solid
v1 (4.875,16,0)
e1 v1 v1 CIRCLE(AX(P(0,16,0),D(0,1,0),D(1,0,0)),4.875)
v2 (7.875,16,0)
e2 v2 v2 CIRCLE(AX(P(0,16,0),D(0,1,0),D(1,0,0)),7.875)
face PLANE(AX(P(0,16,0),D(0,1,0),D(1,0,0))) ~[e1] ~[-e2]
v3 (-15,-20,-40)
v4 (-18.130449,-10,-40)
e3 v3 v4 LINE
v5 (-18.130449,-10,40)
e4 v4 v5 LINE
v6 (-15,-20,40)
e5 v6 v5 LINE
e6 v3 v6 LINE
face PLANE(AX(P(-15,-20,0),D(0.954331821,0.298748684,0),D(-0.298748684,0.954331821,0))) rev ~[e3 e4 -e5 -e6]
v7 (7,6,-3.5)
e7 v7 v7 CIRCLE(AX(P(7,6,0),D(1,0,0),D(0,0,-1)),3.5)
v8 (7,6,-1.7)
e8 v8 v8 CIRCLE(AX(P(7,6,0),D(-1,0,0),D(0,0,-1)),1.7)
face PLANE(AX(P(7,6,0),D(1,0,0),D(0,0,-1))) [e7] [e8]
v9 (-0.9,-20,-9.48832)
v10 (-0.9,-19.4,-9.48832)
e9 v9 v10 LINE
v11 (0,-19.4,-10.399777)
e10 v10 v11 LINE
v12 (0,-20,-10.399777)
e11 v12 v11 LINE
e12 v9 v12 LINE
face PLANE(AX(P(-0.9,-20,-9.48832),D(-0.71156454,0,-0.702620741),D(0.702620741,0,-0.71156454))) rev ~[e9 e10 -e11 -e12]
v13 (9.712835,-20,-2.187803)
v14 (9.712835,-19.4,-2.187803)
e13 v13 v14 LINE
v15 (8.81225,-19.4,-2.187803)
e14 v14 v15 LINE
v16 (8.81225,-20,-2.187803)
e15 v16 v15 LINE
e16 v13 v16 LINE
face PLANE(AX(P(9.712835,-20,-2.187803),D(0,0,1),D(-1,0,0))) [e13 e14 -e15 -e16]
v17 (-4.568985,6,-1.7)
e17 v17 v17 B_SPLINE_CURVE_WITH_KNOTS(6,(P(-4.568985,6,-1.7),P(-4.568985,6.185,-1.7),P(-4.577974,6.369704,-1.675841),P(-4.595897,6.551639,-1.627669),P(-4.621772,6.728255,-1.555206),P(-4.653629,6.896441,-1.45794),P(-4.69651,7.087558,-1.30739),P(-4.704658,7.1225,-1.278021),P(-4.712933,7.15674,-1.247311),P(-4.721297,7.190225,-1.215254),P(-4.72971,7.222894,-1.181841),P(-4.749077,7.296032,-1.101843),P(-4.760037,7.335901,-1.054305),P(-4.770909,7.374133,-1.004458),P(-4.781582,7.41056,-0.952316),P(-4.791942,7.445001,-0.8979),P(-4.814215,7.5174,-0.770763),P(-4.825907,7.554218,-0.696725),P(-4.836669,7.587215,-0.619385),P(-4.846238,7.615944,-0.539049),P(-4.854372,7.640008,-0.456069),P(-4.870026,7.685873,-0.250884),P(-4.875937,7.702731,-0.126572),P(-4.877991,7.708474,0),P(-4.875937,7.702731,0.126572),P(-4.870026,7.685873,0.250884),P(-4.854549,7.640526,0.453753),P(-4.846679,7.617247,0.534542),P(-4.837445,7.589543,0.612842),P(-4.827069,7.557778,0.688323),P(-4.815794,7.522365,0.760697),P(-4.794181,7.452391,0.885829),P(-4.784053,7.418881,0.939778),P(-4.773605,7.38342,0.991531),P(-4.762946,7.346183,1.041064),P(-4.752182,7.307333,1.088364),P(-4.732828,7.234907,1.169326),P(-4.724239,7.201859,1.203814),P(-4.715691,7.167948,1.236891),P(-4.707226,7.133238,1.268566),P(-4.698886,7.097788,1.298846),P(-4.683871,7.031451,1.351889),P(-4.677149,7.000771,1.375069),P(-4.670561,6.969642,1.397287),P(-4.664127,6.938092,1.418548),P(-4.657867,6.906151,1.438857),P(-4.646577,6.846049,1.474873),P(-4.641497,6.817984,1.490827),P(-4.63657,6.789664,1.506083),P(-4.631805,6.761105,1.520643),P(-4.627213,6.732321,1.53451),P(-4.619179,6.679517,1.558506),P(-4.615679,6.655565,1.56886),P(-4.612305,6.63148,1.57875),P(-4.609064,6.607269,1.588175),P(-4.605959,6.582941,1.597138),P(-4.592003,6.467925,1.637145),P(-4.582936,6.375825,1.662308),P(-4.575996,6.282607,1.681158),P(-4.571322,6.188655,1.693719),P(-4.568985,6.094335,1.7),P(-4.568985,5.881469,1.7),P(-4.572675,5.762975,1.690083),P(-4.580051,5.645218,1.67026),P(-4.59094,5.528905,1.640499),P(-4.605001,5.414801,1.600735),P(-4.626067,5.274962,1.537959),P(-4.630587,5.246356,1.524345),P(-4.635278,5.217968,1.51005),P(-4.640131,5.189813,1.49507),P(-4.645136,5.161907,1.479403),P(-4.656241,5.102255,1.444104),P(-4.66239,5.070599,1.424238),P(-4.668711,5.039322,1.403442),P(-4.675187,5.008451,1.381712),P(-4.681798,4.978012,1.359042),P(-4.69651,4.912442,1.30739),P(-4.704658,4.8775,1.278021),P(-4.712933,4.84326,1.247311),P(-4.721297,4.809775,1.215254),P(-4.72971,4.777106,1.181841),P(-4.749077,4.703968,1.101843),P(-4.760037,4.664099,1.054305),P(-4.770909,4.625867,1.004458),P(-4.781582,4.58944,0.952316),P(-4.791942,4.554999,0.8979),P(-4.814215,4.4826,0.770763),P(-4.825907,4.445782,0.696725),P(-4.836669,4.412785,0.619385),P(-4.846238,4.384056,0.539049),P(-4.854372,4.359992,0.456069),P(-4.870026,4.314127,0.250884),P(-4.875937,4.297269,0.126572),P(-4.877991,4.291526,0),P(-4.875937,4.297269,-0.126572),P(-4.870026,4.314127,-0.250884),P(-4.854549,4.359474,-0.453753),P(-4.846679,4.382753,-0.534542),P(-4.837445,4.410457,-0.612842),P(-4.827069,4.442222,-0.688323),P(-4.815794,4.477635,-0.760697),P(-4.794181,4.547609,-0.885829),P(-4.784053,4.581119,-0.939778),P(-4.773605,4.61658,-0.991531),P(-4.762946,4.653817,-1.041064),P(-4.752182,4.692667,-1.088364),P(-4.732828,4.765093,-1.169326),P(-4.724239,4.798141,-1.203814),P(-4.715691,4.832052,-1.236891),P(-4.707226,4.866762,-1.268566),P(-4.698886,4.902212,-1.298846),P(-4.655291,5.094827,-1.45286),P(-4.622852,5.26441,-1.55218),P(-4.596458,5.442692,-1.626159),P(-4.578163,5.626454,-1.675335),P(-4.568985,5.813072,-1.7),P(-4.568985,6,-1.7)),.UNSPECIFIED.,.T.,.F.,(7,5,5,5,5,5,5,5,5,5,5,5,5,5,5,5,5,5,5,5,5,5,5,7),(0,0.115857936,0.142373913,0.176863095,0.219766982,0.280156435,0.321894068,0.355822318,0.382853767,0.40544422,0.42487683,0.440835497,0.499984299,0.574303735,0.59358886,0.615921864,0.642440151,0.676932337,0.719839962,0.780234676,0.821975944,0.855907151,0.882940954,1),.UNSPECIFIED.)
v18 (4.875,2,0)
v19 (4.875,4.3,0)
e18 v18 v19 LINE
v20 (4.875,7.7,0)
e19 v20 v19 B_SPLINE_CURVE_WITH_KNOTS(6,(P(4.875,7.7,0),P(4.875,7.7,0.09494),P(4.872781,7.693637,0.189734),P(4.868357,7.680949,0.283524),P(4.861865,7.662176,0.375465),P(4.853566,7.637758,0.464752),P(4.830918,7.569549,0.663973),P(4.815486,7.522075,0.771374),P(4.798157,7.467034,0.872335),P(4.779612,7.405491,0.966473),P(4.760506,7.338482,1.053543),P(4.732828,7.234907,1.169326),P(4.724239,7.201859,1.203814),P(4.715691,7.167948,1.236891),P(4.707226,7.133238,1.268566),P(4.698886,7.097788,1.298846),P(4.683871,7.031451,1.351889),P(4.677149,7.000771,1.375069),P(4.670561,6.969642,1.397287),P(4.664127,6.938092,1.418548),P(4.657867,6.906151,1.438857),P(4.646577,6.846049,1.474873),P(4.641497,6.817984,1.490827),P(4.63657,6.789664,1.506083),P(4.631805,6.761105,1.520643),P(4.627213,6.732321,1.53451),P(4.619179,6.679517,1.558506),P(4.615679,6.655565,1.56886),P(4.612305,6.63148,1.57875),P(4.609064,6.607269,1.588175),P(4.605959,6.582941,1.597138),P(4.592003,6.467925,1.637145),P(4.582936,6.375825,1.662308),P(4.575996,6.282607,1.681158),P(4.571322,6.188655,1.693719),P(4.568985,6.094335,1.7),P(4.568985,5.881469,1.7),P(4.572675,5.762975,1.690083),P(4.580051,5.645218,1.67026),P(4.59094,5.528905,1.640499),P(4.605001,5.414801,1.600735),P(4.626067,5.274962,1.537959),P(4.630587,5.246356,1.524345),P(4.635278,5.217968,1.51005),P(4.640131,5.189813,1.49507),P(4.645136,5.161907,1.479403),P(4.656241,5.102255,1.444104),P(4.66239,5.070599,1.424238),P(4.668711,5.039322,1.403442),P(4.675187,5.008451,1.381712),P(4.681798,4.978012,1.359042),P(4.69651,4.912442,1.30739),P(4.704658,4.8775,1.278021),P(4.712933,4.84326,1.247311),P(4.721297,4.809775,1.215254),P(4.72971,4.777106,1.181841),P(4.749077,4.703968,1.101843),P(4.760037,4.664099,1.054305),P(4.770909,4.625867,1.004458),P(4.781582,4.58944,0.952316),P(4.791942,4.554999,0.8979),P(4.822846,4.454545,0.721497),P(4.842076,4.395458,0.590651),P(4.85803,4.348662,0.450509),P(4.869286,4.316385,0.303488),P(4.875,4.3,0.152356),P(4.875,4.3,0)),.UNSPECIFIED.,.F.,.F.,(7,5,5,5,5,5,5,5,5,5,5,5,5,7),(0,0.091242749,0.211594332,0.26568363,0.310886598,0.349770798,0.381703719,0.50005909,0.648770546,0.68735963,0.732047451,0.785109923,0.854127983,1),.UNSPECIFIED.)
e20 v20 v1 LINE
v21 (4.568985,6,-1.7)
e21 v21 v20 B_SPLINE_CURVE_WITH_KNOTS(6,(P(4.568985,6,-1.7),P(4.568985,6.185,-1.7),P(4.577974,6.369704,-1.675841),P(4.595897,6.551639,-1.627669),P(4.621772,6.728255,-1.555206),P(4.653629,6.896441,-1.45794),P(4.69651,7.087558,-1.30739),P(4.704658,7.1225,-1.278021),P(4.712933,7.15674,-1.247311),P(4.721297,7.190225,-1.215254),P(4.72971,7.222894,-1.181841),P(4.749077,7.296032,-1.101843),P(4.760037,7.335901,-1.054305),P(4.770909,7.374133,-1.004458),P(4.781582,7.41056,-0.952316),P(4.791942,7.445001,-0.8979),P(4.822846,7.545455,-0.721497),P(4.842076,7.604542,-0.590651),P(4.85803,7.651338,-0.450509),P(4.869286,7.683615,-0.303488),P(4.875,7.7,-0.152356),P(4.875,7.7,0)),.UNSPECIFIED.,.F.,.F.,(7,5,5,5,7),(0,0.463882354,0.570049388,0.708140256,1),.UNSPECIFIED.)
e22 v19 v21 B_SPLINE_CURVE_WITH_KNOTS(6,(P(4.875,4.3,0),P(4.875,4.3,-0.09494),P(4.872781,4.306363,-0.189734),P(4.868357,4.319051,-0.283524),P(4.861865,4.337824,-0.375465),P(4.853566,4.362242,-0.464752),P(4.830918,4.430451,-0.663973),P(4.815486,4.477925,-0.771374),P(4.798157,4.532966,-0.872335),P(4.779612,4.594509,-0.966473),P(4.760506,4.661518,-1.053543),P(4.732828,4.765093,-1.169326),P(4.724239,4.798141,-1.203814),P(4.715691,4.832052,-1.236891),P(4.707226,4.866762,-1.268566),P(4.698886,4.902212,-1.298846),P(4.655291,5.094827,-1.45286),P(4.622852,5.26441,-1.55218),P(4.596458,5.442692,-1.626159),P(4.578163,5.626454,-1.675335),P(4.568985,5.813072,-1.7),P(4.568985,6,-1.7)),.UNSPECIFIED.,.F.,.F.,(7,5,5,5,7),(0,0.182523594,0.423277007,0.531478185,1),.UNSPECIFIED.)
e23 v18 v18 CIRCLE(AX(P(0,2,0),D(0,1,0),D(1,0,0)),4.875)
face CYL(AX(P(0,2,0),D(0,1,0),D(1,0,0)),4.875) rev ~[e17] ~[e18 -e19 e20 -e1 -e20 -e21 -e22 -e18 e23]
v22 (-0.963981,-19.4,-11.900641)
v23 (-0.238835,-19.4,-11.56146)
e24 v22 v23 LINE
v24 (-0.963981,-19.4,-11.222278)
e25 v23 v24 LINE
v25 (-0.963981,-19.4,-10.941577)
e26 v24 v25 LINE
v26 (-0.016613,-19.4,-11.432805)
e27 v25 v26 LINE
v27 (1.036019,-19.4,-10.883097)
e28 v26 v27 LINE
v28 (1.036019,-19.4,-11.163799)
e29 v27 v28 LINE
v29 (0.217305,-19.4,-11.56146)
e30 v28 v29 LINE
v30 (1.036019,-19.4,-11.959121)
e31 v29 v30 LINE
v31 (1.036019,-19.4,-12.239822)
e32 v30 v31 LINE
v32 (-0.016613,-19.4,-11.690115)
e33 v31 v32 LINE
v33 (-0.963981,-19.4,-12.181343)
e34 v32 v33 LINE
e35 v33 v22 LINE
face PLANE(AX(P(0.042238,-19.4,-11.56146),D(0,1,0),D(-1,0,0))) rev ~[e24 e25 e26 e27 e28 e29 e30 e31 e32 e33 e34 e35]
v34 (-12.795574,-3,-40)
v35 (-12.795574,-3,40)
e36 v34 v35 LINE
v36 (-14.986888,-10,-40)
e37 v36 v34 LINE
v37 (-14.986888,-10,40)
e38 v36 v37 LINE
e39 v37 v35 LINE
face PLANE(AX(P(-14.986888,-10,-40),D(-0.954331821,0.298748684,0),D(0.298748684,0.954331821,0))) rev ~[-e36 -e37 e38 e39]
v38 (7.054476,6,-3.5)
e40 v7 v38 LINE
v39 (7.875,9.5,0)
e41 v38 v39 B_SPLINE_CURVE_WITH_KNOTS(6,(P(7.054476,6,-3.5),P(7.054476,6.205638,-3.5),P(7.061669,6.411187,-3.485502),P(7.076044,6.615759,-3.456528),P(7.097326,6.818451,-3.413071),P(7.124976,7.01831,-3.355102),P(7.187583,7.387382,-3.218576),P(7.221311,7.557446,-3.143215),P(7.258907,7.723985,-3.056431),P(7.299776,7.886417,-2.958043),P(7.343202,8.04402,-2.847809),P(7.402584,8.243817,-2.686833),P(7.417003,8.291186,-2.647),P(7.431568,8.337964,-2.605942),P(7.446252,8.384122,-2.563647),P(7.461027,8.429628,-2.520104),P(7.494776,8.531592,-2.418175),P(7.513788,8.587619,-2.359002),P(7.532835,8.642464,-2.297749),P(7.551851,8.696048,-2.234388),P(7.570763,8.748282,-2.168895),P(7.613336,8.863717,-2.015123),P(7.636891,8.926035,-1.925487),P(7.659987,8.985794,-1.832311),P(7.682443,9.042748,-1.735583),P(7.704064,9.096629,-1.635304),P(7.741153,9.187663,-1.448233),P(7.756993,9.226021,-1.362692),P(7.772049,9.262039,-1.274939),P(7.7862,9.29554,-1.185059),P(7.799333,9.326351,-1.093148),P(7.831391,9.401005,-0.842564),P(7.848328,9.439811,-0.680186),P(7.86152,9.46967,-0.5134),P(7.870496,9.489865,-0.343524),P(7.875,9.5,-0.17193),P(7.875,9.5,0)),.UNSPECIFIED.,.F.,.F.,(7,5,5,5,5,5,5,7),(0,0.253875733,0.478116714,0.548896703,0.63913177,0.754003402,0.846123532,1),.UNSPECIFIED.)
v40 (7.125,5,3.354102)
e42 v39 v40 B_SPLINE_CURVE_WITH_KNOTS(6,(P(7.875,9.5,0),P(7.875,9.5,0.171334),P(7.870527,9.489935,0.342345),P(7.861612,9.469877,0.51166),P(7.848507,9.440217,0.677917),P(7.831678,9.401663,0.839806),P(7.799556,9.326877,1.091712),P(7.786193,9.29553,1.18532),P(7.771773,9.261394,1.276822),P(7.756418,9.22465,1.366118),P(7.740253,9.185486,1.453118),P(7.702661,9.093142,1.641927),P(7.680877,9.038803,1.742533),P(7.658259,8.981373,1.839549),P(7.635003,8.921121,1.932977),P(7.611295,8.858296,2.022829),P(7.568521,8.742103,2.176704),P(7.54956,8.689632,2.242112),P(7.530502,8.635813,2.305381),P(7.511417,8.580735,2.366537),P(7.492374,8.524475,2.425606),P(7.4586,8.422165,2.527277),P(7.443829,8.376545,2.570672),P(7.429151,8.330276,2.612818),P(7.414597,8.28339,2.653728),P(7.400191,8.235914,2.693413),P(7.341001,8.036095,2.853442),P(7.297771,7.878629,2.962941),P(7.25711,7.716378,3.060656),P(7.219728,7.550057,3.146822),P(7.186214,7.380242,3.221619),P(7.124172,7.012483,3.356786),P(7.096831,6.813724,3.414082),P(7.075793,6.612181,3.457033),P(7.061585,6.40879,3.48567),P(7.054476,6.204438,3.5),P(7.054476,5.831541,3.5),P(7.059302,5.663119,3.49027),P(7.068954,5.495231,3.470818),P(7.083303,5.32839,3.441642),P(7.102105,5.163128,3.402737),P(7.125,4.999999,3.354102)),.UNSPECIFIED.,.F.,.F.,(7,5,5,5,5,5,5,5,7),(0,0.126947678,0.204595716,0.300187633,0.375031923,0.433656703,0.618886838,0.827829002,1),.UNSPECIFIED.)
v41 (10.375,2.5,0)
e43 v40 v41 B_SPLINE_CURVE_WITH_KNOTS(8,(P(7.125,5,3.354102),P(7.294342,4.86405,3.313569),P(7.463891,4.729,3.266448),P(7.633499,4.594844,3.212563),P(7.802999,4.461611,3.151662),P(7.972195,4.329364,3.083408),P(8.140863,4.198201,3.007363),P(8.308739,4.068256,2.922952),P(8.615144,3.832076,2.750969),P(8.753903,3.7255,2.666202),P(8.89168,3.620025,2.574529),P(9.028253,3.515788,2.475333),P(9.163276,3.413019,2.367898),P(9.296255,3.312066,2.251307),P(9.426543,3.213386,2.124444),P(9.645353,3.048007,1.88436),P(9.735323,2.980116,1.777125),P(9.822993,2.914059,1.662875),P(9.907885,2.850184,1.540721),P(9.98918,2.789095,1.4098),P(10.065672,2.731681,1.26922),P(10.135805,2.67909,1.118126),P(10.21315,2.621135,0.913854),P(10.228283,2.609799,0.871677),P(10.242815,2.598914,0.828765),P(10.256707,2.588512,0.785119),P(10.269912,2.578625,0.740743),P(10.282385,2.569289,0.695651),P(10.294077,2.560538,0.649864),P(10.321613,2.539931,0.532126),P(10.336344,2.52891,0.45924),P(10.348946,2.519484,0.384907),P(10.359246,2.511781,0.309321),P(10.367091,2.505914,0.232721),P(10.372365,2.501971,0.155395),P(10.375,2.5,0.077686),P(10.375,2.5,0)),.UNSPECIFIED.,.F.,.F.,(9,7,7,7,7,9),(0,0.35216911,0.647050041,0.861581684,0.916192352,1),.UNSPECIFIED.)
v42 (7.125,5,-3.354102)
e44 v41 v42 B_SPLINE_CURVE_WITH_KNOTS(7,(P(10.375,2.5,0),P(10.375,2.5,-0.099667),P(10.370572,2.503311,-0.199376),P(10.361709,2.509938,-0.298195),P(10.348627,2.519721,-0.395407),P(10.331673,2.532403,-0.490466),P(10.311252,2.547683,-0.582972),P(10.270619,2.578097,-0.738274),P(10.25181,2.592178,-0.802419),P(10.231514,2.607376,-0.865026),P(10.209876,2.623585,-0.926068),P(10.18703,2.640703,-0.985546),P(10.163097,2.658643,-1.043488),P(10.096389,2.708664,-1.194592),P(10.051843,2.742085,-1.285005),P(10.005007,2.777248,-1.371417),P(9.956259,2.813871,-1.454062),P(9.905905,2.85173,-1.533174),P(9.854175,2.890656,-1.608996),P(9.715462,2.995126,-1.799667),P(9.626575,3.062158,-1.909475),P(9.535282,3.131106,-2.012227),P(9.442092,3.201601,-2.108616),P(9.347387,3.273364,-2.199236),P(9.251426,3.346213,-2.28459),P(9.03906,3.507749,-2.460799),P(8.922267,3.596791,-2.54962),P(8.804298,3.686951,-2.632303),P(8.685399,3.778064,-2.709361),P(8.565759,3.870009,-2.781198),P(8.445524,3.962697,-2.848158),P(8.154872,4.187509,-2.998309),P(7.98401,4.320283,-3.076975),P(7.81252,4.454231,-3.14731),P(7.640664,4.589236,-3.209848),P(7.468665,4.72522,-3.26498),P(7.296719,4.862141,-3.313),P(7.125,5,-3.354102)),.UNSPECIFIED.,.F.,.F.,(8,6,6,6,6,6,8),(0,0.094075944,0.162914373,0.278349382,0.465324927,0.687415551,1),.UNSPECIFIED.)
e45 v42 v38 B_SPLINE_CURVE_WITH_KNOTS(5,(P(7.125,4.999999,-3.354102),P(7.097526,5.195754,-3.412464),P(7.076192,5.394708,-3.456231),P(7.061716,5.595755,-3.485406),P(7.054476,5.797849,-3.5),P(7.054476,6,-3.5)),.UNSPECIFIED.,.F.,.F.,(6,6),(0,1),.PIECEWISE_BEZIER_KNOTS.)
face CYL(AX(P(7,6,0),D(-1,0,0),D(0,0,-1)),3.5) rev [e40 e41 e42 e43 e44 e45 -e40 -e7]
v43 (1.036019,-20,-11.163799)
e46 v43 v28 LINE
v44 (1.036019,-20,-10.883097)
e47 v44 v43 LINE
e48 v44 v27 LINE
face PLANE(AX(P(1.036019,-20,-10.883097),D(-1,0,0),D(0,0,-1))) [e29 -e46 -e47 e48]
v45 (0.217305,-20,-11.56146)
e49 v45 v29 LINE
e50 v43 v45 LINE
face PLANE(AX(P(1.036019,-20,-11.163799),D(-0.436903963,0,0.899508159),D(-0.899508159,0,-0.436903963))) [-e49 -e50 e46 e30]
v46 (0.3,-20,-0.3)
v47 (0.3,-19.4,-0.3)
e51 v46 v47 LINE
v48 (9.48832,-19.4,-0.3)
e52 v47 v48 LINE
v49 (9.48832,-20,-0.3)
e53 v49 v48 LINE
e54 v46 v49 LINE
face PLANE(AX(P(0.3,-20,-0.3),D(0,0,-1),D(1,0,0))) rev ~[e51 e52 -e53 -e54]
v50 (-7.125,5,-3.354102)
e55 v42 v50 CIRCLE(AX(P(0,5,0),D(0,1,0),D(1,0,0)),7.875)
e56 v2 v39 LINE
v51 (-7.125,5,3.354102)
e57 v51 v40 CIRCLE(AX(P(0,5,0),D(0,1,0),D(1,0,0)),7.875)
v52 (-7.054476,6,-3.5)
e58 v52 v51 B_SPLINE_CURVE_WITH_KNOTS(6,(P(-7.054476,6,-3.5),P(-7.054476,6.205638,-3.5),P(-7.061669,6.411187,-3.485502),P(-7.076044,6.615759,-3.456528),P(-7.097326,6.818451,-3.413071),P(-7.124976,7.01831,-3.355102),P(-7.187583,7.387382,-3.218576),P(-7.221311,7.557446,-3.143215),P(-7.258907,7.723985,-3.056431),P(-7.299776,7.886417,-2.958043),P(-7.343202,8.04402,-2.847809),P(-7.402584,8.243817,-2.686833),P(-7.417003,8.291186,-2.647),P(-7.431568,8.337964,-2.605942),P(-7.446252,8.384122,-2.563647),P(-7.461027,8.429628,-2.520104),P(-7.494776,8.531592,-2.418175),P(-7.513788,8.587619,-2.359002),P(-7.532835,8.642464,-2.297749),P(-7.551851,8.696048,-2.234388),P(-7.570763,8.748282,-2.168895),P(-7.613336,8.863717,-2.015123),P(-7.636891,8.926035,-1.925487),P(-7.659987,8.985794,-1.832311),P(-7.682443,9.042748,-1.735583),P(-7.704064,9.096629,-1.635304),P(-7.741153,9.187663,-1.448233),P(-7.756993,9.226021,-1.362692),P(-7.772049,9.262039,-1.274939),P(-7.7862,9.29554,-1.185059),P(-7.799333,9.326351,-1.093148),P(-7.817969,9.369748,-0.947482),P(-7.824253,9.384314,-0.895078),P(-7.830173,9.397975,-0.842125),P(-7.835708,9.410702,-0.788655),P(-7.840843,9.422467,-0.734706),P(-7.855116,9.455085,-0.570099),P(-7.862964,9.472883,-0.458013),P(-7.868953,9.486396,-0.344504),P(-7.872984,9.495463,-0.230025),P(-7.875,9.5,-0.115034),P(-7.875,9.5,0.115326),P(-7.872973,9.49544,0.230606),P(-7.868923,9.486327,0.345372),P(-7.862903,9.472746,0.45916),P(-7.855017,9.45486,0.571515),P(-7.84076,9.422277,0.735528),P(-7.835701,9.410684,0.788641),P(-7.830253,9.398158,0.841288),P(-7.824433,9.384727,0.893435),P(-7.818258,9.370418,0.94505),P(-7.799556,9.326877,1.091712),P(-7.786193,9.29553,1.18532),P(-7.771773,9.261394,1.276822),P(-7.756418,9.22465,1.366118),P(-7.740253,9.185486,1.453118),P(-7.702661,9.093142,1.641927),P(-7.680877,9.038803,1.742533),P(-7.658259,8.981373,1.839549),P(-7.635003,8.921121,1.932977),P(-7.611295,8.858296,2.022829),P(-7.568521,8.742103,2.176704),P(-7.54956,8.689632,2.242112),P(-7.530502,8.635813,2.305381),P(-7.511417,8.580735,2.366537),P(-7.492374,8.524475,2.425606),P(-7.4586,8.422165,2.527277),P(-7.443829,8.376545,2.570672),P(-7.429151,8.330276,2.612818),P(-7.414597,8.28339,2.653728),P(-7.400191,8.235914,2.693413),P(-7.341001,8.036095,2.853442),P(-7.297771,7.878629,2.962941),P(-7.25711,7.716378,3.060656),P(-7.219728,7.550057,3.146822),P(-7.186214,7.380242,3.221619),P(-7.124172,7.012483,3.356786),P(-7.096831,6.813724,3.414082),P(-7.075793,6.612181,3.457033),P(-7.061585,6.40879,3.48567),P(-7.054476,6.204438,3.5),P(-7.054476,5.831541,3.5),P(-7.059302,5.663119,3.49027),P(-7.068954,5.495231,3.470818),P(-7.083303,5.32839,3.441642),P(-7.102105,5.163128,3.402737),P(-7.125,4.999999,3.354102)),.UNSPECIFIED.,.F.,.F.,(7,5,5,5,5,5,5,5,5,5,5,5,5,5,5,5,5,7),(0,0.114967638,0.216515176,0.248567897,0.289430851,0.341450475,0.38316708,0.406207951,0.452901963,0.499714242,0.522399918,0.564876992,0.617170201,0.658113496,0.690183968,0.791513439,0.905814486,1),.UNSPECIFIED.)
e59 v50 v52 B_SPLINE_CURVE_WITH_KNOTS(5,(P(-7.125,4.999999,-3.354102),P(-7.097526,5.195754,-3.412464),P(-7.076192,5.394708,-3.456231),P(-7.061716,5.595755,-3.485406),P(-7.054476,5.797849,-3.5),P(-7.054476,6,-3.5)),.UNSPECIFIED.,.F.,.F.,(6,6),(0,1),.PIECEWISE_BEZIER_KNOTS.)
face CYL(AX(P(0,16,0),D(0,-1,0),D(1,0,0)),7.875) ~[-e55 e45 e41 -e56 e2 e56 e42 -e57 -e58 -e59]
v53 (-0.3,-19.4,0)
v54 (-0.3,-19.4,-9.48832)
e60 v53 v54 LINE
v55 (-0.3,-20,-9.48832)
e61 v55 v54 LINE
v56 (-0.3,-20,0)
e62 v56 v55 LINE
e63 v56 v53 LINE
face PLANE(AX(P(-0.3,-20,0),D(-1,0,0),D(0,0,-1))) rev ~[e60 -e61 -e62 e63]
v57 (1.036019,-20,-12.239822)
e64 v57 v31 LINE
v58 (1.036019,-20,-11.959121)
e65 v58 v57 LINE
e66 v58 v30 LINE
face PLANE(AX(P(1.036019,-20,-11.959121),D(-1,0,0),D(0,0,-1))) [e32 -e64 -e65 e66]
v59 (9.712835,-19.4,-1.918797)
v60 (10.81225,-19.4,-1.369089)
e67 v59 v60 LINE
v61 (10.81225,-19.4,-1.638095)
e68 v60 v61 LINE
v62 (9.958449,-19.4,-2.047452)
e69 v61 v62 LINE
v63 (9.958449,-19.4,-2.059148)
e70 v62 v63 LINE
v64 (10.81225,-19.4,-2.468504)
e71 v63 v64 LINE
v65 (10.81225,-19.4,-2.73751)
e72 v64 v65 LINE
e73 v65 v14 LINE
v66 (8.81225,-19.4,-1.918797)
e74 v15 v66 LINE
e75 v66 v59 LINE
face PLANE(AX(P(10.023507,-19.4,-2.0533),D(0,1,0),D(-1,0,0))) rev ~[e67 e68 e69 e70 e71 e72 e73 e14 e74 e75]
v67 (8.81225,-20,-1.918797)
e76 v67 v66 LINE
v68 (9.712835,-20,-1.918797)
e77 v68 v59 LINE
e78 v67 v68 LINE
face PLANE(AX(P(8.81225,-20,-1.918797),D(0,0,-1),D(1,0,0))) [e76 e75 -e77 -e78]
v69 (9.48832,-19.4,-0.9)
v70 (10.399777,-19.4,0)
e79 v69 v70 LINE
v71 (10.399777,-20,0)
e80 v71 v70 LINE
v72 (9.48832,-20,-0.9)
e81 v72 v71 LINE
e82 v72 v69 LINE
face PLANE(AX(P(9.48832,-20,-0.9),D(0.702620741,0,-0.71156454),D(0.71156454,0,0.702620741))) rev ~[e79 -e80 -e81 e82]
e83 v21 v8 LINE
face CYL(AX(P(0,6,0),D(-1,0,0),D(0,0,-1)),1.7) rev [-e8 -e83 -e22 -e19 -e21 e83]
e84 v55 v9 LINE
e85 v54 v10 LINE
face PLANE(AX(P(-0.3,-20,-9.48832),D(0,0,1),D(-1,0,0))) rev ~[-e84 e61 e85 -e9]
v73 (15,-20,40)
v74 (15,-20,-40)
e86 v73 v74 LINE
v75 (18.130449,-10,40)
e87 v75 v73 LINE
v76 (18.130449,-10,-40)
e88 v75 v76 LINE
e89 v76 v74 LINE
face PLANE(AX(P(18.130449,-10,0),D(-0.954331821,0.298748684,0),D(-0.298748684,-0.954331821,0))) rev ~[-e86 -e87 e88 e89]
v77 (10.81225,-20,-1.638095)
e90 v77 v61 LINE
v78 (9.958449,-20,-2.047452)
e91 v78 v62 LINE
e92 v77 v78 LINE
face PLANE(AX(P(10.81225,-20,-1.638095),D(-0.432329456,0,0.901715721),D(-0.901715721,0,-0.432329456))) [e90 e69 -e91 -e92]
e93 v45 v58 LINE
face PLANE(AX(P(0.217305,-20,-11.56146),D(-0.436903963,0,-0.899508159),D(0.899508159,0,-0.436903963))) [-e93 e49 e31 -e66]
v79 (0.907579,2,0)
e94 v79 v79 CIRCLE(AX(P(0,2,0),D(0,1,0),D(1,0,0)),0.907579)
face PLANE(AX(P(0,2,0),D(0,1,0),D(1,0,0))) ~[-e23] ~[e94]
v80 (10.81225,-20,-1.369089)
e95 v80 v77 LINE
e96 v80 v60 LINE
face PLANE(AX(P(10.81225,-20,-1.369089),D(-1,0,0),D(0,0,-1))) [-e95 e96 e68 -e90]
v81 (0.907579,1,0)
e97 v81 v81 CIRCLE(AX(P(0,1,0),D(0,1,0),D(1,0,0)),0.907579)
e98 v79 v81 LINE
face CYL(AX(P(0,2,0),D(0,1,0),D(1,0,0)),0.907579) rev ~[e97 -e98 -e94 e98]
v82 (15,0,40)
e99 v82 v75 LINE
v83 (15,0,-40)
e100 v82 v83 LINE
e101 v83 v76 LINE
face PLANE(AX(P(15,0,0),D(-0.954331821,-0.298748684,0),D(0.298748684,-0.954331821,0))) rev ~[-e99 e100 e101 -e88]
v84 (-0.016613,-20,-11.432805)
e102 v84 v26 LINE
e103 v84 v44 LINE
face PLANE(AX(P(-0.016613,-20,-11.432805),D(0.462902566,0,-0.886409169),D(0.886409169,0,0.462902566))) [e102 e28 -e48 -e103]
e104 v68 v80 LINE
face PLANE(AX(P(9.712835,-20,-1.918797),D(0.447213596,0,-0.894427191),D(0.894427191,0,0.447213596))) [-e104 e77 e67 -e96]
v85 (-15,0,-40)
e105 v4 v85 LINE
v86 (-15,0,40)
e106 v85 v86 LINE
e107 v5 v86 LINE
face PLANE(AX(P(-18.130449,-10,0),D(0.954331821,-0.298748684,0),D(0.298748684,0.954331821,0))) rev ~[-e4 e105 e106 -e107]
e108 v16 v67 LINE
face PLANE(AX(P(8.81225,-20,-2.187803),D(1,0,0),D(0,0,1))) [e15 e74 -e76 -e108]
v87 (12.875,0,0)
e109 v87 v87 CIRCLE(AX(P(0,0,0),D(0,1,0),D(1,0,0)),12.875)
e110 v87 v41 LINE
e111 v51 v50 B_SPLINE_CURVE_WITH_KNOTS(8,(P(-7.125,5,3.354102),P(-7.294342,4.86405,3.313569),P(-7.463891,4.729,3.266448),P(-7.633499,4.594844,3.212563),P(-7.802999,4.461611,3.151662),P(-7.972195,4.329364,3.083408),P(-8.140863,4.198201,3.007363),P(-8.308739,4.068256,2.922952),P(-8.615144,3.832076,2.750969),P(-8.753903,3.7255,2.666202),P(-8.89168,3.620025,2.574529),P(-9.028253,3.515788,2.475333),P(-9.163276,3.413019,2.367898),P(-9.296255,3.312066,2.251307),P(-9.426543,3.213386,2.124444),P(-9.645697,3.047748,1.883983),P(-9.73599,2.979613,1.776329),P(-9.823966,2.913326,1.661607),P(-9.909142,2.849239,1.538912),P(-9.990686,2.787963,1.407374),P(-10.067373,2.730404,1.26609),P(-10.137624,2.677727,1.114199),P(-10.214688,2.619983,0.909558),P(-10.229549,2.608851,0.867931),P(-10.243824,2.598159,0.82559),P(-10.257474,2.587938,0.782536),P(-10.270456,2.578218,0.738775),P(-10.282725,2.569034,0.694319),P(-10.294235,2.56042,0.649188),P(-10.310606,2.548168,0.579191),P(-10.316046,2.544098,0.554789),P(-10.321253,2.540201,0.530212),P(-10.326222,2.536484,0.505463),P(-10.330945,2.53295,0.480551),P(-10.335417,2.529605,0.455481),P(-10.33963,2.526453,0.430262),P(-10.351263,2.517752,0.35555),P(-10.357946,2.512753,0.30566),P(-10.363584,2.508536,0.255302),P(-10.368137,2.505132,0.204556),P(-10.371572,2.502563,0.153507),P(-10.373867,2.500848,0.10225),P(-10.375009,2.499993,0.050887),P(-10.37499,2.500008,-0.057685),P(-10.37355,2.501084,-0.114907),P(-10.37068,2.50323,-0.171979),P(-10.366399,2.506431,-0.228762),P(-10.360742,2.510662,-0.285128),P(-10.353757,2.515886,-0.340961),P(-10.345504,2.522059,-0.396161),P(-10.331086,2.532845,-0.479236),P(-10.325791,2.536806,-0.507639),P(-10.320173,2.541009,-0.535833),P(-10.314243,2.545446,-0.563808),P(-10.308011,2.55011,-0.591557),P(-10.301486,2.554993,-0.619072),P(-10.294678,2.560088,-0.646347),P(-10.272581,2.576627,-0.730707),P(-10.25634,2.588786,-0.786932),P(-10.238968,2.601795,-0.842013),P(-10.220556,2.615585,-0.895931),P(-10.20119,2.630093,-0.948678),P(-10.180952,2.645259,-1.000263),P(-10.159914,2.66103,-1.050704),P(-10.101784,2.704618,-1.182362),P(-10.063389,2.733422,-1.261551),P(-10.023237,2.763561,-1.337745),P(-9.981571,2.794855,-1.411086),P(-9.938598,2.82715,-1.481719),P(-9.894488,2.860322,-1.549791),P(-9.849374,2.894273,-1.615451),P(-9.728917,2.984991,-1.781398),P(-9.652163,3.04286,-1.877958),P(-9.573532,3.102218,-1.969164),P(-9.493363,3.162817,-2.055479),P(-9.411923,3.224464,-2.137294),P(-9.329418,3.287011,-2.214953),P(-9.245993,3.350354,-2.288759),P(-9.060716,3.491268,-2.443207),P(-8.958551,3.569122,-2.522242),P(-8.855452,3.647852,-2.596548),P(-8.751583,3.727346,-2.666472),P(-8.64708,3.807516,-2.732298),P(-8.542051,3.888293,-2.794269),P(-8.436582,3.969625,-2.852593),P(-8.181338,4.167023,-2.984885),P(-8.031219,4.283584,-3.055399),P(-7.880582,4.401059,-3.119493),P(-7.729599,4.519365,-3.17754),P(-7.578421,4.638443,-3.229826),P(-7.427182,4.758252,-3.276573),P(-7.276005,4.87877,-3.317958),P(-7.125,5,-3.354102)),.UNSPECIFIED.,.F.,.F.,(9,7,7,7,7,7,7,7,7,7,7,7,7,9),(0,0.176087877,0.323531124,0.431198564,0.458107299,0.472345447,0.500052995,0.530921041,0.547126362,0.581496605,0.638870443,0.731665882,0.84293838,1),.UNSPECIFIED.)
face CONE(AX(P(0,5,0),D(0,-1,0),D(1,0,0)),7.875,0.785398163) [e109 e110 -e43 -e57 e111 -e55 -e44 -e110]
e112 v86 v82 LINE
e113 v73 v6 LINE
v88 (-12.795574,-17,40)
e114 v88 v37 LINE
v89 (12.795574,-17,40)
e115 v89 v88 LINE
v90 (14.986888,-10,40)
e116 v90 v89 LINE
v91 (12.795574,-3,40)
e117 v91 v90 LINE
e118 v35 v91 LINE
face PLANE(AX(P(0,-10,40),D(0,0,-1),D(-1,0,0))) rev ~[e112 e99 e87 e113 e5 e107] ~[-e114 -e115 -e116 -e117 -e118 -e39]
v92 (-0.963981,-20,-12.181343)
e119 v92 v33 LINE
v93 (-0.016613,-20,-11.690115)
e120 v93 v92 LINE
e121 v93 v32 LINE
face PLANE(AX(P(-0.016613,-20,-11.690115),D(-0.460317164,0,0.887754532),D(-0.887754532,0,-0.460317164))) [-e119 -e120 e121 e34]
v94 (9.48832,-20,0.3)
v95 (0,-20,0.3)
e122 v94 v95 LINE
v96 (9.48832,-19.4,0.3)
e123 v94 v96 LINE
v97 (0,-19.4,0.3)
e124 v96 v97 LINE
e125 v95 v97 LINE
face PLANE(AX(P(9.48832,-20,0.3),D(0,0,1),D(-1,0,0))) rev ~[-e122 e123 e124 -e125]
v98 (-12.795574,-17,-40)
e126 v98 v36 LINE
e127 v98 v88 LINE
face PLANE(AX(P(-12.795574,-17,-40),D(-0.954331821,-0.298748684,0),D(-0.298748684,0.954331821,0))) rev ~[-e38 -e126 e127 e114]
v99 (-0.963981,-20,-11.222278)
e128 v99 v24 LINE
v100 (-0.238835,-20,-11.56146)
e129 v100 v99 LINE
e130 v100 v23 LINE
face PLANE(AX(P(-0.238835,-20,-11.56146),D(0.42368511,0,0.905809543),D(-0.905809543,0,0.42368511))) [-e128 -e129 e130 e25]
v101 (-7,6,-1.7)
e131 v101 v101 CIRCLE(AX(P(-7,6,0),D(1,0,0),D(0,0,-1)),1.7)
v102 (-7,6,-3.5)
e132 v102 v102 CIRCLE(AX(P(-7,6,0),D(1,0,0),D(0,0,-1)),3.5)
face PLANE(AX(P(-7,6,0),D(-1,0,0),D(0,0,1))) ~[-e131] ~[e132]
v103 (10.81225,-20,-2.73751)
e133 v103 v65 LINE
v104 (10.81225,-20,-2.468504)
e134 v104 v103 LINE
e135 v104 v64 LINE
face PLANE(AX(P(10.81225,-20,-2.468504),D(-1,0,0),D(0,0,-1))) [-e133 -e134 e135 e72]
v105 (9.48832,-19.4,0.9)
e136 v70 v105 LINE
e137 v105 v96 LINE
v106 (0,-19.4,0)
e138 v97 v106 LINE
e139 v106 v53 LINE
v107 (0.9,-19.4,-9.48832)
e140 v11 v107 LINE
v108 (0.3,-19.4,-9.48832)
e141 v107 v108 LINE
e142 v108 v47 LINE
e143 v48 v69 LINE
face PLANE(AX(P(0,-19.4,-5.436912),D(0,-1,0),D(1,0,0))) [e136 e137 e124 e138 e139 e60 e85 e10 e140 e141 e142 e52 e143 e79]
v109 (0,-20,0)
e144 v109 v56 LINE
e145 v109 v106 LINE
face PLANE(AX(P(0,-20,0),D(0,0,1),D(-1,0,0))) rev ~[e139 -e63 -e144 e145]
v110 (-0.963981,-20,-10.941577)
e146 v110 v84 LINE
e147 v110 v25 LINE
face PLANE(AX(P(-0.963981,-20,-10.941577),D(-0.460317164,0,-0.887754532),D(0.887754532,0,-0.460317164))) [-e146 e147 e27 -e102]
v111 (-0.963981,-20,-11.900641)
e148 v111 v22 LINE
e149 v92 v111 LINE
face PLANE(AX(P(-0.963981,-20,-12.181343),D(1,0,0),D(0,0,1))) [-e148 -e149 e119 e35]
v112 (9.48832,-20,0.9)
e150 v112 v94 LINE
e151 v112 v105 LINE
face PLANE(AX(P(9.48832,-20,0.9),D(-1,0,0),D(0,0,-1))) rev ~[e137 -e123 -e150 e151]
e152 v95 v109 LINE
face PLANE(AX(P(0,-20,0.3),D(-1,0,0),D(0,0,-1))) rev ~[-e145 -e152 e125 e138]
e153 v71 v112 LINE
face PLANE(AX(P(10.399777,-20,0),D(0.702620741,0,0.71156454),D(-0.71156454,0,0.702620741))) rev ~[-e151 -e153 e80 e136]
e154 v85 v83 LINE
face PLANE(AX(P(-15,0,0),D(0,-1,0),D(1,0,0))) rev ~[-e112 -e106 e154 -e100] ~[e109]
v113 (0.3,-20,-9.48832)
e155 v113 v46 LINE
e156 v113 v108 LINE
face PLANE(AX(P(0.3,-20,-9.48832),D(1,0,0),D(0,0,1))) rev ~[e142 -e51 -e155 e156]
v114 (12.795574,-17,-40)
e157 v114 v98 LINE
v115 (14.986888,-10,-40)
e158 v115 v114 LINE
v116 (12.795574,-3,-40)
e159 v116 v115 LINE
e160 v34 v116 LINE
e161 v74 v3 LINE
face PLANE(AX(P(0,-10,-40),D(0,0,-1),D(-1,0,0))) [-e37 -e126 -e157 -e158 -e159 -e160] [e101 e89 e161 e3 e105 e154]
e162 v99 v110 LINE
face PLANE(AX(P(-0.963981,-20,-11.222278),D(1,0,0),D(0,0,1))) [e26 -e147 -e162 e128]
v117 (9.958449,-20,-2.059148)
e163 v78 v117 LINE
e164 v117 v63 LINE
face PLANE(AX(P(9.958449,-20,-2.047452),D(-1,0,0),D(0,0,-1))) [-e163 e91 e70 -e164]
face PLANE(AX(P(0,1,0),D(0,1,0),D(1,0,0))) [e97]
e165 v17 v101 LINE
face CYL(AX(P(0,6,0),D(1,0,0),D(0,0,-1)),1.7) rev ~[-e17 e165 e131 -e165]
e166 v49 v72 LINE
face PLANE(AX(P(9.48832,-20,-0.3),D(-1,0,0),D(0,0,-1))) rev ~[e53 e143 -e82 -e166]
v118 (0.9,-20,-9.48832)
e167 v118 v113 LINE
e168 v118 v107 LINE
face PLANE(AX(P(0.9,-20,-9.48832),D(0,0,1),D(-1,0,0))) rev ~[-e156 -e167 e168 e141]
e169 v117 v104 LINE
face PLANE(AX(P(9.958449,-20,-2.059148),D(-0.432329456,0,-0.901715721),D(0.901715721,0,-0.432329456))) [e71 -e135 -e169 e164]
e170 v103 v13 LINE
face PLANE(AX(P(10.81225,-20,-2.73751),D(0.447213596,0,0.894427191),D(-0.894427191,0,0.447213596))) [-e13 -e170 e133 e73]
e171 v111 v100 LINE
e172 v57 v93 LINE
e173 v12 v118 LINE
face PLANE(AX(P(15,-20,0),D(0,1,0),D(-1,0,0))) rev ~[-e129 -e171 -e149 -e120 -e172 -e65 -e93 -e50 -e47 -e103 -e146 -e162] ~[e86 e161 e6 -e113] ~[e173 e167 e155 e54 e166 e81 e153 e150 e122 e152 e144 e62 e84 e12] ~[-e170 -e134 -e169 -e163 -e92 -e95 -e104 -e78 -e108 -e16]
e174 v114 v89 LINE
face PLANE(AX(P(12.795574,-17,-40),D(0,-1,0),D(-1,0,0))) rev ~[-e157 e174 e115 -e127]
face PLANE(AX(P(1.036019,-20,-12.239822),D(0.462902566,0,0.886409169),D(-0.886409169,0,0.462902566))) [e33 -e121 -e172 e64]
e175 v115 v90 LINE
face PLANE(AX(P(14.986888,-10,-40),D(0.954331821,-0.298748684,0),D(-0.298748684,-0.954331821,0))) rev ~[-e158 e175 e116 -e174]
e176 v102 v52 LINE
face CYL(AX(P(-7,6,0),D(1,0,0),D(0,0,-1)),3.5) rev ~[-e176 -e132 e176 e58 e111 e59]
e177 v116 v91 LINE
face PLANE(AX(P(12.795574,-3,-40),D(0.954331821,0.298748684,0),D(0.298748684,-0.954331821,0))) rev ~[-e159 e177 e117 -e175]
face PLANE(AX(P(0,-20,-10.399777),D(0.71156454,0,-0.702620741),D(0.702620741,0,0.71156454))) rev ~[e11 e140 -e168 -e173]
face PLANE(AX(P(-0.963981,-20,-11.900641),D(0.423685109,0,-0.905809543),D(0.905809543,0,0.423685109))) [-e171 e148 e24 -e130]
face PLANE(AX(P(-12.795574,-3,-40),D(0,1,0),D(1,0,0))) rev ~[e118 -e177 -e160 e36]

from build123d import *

# Parameters (mm, degrees)
EXTRUDE_1_DEPTH          = 40
CUT_EXTRUDE_3_DEPTH      = 85.431707145
CHAMFER_1_SIZE           = 5
CUT_EXTRUDE_1_DEPTH      = 10
CUT_EXTRUDE_1_DEPTH_BACK = 10
SKETCH_5_R               = 1.7
SKETCH_6_R               = 3.5
CUT_EXTRUDE_2_DEPTH      = 10
CUT_EXTRUDE_4_DEPTH      = 0.6
CUT_EXTRUDE_5_DEPTH      = 0.6
SKETCH_10_R              = 0.90757886
CUT_EXTRUDE_6_DEPTH      = 1


with BuildPart() as part:
    # 草图1 → 凸台-拉伸1 (new, symmetric)
    with BuildSketch(Plane.XY):
        Polygon((-15, 0), (15, 0), (18.130448736, -10), (15, -20), (-15, -20), (-18.130448736, -10), align=None)
    extrude(amount=EXTRUDE_1_DEPTH, both=True)

    # 草图7 → 切除-拉伸3 (cut, through all)
    with BuildSketch(Plane(origin=(0, 0, -40), x_dir=(-1, 0, 0), z_dir=(0, 0, -1))):
        Polygon((14.986888042, -10), (12.795573927, -3), (-12.795573927, -3), (-14.986888042, -10), (-12.795573927, -17), (12.795573927, -17), align=None)
    extrude(amount=-CUT_EXTRUDE_3_DEPTH, mode=Mode.SUBTRACT)

    # 草图3 → 旋转1 (revolve)
    with BuildSketch(Plane.XY):
        Polygon((4.875, 16), (7.875, 16), (7.875, 0), (0, 0), (0, 2), (4.875, 2), align=None)
    revolve(axis=Axis((0, 0, 0), (0, 1, 0)))

    # 倒角1
    chamfer_1_edges = [part.edges().sort_by_distance(p)[0] for p in [
        (-7.875, 0, 0),
    ]]
    chamfer(chamfer_1_edges, length=CHAMFER_1_SIZE)

    # 草图5 → 切除-拉伸1 (cut, two sides: drawn at the far end of the back side and taken through both)
    with BuildSketch(Plane(origin=(0, 0, 0), x_dir=(0, 0, -1), z_dir=(1, 0, 0)).offset(-CUT_EXTRUDE_1_DEPTH_BACK)):
        with Locations((0, 6)):
            Circle(SKETCH_5_R)
    extrude(amount=CUT_EXTRUDE_1_DEPTH + CUT_EXTRUDE_1_DEPTH_BACK, mode=Mode.SUBTRACT)

    # 草图6 → 切除-拉伸2 (cut)
    with BuildSketch(Plane(origin=(7, 0, 0), x_dir=(0, 0, -1), z_dir=(1, 0, 0))):
        with Locations((0, 6)):
            Circle(SKETCH_6_R)
    cut_extrude_2 = extrude(amount=CUT_EXTRUDE_2_DEPTH, mode=Mode.SUBTRACT)

    # 镜向1: 切除-拉伸2 across plane
    add(cut_extrude_2.mirror(Plane(origin=(0, 0, 0), x_dir=(0, 0, 1), z_dir=(1, 0, 0))), mode=Mode.SUBTRACT)

    # 草图8 → 切除-拉伸4 (cut)
    with BuildSketch(Plane.XZ.offset(20)):
        Polygon((-0.3, 0), (-0.3, -9.488320233), (-0.9, -9.488320233), (0, -10.399776511), (0.9, -9.488320233), (0.3, -9.488320233), (0.3, 0), align=None)
        Polygon((0, -0.3), (9.488320233, -0.3), (9.488320233, -0.9), (10.399776511, 0), (9.488320233, 0.9), (9.488320233, 0.3), (0, 0.3), align=None)
    extrude(amount=-CUT_EXTRUDE_4_DEPTH, mode=Mode.SUBTRACT)

    # 草图9 → 切除-拉伸5 (cut)
    with BuildSketch(Plane.XZ.offset(20)):
        Polygon((1.036018744, -10.883097159), (1.036018744, -11.163798913), (0.217305293, -11.561459732), (1.036018744, -11.959120551), (1.036018744, -12.239822305), (-0.016612835, -11.690114703), (-0.963981256, -12.181342773), (-0.963981256, -11.900641018), (-0.238835058, -11.561459732), (-0.963981256, -11.222278445), (-0.963981256, -10.941576691), (-0.016612835, -11.432804761), align=None)
        Polygon((10.812249856, -2.737510211), (9.712834652, -2.187802609), (8.812249856, -2.187802609), (8.812249856, -1.918796761), (9.712834652, -1.918796761), (10.812249856, -1.369089158), (10.812249856, -1.638095006), (9.958448687, -2.047451731), (9.958448687, -2.059147638), (10.812249856, -2.468504363), align=None)
    extrude(amount=-CUT_EXTRUDE_5_DEPTH, mode=Mode.SUBTRACT)

    # 草图10 → 切除-拉伸6 (cut)
    with BuildSketch(Plane(origin=(0, 2, 0), x_dir=(1, 0, 0), z_dir=(0, 1, 0))):
        Circle(SKETCH_10_R)
    extrude(amount=-CUT_EXTRUDE_6_DEPTH, mode=Mode.SUBTRACT)


solid = part.part
